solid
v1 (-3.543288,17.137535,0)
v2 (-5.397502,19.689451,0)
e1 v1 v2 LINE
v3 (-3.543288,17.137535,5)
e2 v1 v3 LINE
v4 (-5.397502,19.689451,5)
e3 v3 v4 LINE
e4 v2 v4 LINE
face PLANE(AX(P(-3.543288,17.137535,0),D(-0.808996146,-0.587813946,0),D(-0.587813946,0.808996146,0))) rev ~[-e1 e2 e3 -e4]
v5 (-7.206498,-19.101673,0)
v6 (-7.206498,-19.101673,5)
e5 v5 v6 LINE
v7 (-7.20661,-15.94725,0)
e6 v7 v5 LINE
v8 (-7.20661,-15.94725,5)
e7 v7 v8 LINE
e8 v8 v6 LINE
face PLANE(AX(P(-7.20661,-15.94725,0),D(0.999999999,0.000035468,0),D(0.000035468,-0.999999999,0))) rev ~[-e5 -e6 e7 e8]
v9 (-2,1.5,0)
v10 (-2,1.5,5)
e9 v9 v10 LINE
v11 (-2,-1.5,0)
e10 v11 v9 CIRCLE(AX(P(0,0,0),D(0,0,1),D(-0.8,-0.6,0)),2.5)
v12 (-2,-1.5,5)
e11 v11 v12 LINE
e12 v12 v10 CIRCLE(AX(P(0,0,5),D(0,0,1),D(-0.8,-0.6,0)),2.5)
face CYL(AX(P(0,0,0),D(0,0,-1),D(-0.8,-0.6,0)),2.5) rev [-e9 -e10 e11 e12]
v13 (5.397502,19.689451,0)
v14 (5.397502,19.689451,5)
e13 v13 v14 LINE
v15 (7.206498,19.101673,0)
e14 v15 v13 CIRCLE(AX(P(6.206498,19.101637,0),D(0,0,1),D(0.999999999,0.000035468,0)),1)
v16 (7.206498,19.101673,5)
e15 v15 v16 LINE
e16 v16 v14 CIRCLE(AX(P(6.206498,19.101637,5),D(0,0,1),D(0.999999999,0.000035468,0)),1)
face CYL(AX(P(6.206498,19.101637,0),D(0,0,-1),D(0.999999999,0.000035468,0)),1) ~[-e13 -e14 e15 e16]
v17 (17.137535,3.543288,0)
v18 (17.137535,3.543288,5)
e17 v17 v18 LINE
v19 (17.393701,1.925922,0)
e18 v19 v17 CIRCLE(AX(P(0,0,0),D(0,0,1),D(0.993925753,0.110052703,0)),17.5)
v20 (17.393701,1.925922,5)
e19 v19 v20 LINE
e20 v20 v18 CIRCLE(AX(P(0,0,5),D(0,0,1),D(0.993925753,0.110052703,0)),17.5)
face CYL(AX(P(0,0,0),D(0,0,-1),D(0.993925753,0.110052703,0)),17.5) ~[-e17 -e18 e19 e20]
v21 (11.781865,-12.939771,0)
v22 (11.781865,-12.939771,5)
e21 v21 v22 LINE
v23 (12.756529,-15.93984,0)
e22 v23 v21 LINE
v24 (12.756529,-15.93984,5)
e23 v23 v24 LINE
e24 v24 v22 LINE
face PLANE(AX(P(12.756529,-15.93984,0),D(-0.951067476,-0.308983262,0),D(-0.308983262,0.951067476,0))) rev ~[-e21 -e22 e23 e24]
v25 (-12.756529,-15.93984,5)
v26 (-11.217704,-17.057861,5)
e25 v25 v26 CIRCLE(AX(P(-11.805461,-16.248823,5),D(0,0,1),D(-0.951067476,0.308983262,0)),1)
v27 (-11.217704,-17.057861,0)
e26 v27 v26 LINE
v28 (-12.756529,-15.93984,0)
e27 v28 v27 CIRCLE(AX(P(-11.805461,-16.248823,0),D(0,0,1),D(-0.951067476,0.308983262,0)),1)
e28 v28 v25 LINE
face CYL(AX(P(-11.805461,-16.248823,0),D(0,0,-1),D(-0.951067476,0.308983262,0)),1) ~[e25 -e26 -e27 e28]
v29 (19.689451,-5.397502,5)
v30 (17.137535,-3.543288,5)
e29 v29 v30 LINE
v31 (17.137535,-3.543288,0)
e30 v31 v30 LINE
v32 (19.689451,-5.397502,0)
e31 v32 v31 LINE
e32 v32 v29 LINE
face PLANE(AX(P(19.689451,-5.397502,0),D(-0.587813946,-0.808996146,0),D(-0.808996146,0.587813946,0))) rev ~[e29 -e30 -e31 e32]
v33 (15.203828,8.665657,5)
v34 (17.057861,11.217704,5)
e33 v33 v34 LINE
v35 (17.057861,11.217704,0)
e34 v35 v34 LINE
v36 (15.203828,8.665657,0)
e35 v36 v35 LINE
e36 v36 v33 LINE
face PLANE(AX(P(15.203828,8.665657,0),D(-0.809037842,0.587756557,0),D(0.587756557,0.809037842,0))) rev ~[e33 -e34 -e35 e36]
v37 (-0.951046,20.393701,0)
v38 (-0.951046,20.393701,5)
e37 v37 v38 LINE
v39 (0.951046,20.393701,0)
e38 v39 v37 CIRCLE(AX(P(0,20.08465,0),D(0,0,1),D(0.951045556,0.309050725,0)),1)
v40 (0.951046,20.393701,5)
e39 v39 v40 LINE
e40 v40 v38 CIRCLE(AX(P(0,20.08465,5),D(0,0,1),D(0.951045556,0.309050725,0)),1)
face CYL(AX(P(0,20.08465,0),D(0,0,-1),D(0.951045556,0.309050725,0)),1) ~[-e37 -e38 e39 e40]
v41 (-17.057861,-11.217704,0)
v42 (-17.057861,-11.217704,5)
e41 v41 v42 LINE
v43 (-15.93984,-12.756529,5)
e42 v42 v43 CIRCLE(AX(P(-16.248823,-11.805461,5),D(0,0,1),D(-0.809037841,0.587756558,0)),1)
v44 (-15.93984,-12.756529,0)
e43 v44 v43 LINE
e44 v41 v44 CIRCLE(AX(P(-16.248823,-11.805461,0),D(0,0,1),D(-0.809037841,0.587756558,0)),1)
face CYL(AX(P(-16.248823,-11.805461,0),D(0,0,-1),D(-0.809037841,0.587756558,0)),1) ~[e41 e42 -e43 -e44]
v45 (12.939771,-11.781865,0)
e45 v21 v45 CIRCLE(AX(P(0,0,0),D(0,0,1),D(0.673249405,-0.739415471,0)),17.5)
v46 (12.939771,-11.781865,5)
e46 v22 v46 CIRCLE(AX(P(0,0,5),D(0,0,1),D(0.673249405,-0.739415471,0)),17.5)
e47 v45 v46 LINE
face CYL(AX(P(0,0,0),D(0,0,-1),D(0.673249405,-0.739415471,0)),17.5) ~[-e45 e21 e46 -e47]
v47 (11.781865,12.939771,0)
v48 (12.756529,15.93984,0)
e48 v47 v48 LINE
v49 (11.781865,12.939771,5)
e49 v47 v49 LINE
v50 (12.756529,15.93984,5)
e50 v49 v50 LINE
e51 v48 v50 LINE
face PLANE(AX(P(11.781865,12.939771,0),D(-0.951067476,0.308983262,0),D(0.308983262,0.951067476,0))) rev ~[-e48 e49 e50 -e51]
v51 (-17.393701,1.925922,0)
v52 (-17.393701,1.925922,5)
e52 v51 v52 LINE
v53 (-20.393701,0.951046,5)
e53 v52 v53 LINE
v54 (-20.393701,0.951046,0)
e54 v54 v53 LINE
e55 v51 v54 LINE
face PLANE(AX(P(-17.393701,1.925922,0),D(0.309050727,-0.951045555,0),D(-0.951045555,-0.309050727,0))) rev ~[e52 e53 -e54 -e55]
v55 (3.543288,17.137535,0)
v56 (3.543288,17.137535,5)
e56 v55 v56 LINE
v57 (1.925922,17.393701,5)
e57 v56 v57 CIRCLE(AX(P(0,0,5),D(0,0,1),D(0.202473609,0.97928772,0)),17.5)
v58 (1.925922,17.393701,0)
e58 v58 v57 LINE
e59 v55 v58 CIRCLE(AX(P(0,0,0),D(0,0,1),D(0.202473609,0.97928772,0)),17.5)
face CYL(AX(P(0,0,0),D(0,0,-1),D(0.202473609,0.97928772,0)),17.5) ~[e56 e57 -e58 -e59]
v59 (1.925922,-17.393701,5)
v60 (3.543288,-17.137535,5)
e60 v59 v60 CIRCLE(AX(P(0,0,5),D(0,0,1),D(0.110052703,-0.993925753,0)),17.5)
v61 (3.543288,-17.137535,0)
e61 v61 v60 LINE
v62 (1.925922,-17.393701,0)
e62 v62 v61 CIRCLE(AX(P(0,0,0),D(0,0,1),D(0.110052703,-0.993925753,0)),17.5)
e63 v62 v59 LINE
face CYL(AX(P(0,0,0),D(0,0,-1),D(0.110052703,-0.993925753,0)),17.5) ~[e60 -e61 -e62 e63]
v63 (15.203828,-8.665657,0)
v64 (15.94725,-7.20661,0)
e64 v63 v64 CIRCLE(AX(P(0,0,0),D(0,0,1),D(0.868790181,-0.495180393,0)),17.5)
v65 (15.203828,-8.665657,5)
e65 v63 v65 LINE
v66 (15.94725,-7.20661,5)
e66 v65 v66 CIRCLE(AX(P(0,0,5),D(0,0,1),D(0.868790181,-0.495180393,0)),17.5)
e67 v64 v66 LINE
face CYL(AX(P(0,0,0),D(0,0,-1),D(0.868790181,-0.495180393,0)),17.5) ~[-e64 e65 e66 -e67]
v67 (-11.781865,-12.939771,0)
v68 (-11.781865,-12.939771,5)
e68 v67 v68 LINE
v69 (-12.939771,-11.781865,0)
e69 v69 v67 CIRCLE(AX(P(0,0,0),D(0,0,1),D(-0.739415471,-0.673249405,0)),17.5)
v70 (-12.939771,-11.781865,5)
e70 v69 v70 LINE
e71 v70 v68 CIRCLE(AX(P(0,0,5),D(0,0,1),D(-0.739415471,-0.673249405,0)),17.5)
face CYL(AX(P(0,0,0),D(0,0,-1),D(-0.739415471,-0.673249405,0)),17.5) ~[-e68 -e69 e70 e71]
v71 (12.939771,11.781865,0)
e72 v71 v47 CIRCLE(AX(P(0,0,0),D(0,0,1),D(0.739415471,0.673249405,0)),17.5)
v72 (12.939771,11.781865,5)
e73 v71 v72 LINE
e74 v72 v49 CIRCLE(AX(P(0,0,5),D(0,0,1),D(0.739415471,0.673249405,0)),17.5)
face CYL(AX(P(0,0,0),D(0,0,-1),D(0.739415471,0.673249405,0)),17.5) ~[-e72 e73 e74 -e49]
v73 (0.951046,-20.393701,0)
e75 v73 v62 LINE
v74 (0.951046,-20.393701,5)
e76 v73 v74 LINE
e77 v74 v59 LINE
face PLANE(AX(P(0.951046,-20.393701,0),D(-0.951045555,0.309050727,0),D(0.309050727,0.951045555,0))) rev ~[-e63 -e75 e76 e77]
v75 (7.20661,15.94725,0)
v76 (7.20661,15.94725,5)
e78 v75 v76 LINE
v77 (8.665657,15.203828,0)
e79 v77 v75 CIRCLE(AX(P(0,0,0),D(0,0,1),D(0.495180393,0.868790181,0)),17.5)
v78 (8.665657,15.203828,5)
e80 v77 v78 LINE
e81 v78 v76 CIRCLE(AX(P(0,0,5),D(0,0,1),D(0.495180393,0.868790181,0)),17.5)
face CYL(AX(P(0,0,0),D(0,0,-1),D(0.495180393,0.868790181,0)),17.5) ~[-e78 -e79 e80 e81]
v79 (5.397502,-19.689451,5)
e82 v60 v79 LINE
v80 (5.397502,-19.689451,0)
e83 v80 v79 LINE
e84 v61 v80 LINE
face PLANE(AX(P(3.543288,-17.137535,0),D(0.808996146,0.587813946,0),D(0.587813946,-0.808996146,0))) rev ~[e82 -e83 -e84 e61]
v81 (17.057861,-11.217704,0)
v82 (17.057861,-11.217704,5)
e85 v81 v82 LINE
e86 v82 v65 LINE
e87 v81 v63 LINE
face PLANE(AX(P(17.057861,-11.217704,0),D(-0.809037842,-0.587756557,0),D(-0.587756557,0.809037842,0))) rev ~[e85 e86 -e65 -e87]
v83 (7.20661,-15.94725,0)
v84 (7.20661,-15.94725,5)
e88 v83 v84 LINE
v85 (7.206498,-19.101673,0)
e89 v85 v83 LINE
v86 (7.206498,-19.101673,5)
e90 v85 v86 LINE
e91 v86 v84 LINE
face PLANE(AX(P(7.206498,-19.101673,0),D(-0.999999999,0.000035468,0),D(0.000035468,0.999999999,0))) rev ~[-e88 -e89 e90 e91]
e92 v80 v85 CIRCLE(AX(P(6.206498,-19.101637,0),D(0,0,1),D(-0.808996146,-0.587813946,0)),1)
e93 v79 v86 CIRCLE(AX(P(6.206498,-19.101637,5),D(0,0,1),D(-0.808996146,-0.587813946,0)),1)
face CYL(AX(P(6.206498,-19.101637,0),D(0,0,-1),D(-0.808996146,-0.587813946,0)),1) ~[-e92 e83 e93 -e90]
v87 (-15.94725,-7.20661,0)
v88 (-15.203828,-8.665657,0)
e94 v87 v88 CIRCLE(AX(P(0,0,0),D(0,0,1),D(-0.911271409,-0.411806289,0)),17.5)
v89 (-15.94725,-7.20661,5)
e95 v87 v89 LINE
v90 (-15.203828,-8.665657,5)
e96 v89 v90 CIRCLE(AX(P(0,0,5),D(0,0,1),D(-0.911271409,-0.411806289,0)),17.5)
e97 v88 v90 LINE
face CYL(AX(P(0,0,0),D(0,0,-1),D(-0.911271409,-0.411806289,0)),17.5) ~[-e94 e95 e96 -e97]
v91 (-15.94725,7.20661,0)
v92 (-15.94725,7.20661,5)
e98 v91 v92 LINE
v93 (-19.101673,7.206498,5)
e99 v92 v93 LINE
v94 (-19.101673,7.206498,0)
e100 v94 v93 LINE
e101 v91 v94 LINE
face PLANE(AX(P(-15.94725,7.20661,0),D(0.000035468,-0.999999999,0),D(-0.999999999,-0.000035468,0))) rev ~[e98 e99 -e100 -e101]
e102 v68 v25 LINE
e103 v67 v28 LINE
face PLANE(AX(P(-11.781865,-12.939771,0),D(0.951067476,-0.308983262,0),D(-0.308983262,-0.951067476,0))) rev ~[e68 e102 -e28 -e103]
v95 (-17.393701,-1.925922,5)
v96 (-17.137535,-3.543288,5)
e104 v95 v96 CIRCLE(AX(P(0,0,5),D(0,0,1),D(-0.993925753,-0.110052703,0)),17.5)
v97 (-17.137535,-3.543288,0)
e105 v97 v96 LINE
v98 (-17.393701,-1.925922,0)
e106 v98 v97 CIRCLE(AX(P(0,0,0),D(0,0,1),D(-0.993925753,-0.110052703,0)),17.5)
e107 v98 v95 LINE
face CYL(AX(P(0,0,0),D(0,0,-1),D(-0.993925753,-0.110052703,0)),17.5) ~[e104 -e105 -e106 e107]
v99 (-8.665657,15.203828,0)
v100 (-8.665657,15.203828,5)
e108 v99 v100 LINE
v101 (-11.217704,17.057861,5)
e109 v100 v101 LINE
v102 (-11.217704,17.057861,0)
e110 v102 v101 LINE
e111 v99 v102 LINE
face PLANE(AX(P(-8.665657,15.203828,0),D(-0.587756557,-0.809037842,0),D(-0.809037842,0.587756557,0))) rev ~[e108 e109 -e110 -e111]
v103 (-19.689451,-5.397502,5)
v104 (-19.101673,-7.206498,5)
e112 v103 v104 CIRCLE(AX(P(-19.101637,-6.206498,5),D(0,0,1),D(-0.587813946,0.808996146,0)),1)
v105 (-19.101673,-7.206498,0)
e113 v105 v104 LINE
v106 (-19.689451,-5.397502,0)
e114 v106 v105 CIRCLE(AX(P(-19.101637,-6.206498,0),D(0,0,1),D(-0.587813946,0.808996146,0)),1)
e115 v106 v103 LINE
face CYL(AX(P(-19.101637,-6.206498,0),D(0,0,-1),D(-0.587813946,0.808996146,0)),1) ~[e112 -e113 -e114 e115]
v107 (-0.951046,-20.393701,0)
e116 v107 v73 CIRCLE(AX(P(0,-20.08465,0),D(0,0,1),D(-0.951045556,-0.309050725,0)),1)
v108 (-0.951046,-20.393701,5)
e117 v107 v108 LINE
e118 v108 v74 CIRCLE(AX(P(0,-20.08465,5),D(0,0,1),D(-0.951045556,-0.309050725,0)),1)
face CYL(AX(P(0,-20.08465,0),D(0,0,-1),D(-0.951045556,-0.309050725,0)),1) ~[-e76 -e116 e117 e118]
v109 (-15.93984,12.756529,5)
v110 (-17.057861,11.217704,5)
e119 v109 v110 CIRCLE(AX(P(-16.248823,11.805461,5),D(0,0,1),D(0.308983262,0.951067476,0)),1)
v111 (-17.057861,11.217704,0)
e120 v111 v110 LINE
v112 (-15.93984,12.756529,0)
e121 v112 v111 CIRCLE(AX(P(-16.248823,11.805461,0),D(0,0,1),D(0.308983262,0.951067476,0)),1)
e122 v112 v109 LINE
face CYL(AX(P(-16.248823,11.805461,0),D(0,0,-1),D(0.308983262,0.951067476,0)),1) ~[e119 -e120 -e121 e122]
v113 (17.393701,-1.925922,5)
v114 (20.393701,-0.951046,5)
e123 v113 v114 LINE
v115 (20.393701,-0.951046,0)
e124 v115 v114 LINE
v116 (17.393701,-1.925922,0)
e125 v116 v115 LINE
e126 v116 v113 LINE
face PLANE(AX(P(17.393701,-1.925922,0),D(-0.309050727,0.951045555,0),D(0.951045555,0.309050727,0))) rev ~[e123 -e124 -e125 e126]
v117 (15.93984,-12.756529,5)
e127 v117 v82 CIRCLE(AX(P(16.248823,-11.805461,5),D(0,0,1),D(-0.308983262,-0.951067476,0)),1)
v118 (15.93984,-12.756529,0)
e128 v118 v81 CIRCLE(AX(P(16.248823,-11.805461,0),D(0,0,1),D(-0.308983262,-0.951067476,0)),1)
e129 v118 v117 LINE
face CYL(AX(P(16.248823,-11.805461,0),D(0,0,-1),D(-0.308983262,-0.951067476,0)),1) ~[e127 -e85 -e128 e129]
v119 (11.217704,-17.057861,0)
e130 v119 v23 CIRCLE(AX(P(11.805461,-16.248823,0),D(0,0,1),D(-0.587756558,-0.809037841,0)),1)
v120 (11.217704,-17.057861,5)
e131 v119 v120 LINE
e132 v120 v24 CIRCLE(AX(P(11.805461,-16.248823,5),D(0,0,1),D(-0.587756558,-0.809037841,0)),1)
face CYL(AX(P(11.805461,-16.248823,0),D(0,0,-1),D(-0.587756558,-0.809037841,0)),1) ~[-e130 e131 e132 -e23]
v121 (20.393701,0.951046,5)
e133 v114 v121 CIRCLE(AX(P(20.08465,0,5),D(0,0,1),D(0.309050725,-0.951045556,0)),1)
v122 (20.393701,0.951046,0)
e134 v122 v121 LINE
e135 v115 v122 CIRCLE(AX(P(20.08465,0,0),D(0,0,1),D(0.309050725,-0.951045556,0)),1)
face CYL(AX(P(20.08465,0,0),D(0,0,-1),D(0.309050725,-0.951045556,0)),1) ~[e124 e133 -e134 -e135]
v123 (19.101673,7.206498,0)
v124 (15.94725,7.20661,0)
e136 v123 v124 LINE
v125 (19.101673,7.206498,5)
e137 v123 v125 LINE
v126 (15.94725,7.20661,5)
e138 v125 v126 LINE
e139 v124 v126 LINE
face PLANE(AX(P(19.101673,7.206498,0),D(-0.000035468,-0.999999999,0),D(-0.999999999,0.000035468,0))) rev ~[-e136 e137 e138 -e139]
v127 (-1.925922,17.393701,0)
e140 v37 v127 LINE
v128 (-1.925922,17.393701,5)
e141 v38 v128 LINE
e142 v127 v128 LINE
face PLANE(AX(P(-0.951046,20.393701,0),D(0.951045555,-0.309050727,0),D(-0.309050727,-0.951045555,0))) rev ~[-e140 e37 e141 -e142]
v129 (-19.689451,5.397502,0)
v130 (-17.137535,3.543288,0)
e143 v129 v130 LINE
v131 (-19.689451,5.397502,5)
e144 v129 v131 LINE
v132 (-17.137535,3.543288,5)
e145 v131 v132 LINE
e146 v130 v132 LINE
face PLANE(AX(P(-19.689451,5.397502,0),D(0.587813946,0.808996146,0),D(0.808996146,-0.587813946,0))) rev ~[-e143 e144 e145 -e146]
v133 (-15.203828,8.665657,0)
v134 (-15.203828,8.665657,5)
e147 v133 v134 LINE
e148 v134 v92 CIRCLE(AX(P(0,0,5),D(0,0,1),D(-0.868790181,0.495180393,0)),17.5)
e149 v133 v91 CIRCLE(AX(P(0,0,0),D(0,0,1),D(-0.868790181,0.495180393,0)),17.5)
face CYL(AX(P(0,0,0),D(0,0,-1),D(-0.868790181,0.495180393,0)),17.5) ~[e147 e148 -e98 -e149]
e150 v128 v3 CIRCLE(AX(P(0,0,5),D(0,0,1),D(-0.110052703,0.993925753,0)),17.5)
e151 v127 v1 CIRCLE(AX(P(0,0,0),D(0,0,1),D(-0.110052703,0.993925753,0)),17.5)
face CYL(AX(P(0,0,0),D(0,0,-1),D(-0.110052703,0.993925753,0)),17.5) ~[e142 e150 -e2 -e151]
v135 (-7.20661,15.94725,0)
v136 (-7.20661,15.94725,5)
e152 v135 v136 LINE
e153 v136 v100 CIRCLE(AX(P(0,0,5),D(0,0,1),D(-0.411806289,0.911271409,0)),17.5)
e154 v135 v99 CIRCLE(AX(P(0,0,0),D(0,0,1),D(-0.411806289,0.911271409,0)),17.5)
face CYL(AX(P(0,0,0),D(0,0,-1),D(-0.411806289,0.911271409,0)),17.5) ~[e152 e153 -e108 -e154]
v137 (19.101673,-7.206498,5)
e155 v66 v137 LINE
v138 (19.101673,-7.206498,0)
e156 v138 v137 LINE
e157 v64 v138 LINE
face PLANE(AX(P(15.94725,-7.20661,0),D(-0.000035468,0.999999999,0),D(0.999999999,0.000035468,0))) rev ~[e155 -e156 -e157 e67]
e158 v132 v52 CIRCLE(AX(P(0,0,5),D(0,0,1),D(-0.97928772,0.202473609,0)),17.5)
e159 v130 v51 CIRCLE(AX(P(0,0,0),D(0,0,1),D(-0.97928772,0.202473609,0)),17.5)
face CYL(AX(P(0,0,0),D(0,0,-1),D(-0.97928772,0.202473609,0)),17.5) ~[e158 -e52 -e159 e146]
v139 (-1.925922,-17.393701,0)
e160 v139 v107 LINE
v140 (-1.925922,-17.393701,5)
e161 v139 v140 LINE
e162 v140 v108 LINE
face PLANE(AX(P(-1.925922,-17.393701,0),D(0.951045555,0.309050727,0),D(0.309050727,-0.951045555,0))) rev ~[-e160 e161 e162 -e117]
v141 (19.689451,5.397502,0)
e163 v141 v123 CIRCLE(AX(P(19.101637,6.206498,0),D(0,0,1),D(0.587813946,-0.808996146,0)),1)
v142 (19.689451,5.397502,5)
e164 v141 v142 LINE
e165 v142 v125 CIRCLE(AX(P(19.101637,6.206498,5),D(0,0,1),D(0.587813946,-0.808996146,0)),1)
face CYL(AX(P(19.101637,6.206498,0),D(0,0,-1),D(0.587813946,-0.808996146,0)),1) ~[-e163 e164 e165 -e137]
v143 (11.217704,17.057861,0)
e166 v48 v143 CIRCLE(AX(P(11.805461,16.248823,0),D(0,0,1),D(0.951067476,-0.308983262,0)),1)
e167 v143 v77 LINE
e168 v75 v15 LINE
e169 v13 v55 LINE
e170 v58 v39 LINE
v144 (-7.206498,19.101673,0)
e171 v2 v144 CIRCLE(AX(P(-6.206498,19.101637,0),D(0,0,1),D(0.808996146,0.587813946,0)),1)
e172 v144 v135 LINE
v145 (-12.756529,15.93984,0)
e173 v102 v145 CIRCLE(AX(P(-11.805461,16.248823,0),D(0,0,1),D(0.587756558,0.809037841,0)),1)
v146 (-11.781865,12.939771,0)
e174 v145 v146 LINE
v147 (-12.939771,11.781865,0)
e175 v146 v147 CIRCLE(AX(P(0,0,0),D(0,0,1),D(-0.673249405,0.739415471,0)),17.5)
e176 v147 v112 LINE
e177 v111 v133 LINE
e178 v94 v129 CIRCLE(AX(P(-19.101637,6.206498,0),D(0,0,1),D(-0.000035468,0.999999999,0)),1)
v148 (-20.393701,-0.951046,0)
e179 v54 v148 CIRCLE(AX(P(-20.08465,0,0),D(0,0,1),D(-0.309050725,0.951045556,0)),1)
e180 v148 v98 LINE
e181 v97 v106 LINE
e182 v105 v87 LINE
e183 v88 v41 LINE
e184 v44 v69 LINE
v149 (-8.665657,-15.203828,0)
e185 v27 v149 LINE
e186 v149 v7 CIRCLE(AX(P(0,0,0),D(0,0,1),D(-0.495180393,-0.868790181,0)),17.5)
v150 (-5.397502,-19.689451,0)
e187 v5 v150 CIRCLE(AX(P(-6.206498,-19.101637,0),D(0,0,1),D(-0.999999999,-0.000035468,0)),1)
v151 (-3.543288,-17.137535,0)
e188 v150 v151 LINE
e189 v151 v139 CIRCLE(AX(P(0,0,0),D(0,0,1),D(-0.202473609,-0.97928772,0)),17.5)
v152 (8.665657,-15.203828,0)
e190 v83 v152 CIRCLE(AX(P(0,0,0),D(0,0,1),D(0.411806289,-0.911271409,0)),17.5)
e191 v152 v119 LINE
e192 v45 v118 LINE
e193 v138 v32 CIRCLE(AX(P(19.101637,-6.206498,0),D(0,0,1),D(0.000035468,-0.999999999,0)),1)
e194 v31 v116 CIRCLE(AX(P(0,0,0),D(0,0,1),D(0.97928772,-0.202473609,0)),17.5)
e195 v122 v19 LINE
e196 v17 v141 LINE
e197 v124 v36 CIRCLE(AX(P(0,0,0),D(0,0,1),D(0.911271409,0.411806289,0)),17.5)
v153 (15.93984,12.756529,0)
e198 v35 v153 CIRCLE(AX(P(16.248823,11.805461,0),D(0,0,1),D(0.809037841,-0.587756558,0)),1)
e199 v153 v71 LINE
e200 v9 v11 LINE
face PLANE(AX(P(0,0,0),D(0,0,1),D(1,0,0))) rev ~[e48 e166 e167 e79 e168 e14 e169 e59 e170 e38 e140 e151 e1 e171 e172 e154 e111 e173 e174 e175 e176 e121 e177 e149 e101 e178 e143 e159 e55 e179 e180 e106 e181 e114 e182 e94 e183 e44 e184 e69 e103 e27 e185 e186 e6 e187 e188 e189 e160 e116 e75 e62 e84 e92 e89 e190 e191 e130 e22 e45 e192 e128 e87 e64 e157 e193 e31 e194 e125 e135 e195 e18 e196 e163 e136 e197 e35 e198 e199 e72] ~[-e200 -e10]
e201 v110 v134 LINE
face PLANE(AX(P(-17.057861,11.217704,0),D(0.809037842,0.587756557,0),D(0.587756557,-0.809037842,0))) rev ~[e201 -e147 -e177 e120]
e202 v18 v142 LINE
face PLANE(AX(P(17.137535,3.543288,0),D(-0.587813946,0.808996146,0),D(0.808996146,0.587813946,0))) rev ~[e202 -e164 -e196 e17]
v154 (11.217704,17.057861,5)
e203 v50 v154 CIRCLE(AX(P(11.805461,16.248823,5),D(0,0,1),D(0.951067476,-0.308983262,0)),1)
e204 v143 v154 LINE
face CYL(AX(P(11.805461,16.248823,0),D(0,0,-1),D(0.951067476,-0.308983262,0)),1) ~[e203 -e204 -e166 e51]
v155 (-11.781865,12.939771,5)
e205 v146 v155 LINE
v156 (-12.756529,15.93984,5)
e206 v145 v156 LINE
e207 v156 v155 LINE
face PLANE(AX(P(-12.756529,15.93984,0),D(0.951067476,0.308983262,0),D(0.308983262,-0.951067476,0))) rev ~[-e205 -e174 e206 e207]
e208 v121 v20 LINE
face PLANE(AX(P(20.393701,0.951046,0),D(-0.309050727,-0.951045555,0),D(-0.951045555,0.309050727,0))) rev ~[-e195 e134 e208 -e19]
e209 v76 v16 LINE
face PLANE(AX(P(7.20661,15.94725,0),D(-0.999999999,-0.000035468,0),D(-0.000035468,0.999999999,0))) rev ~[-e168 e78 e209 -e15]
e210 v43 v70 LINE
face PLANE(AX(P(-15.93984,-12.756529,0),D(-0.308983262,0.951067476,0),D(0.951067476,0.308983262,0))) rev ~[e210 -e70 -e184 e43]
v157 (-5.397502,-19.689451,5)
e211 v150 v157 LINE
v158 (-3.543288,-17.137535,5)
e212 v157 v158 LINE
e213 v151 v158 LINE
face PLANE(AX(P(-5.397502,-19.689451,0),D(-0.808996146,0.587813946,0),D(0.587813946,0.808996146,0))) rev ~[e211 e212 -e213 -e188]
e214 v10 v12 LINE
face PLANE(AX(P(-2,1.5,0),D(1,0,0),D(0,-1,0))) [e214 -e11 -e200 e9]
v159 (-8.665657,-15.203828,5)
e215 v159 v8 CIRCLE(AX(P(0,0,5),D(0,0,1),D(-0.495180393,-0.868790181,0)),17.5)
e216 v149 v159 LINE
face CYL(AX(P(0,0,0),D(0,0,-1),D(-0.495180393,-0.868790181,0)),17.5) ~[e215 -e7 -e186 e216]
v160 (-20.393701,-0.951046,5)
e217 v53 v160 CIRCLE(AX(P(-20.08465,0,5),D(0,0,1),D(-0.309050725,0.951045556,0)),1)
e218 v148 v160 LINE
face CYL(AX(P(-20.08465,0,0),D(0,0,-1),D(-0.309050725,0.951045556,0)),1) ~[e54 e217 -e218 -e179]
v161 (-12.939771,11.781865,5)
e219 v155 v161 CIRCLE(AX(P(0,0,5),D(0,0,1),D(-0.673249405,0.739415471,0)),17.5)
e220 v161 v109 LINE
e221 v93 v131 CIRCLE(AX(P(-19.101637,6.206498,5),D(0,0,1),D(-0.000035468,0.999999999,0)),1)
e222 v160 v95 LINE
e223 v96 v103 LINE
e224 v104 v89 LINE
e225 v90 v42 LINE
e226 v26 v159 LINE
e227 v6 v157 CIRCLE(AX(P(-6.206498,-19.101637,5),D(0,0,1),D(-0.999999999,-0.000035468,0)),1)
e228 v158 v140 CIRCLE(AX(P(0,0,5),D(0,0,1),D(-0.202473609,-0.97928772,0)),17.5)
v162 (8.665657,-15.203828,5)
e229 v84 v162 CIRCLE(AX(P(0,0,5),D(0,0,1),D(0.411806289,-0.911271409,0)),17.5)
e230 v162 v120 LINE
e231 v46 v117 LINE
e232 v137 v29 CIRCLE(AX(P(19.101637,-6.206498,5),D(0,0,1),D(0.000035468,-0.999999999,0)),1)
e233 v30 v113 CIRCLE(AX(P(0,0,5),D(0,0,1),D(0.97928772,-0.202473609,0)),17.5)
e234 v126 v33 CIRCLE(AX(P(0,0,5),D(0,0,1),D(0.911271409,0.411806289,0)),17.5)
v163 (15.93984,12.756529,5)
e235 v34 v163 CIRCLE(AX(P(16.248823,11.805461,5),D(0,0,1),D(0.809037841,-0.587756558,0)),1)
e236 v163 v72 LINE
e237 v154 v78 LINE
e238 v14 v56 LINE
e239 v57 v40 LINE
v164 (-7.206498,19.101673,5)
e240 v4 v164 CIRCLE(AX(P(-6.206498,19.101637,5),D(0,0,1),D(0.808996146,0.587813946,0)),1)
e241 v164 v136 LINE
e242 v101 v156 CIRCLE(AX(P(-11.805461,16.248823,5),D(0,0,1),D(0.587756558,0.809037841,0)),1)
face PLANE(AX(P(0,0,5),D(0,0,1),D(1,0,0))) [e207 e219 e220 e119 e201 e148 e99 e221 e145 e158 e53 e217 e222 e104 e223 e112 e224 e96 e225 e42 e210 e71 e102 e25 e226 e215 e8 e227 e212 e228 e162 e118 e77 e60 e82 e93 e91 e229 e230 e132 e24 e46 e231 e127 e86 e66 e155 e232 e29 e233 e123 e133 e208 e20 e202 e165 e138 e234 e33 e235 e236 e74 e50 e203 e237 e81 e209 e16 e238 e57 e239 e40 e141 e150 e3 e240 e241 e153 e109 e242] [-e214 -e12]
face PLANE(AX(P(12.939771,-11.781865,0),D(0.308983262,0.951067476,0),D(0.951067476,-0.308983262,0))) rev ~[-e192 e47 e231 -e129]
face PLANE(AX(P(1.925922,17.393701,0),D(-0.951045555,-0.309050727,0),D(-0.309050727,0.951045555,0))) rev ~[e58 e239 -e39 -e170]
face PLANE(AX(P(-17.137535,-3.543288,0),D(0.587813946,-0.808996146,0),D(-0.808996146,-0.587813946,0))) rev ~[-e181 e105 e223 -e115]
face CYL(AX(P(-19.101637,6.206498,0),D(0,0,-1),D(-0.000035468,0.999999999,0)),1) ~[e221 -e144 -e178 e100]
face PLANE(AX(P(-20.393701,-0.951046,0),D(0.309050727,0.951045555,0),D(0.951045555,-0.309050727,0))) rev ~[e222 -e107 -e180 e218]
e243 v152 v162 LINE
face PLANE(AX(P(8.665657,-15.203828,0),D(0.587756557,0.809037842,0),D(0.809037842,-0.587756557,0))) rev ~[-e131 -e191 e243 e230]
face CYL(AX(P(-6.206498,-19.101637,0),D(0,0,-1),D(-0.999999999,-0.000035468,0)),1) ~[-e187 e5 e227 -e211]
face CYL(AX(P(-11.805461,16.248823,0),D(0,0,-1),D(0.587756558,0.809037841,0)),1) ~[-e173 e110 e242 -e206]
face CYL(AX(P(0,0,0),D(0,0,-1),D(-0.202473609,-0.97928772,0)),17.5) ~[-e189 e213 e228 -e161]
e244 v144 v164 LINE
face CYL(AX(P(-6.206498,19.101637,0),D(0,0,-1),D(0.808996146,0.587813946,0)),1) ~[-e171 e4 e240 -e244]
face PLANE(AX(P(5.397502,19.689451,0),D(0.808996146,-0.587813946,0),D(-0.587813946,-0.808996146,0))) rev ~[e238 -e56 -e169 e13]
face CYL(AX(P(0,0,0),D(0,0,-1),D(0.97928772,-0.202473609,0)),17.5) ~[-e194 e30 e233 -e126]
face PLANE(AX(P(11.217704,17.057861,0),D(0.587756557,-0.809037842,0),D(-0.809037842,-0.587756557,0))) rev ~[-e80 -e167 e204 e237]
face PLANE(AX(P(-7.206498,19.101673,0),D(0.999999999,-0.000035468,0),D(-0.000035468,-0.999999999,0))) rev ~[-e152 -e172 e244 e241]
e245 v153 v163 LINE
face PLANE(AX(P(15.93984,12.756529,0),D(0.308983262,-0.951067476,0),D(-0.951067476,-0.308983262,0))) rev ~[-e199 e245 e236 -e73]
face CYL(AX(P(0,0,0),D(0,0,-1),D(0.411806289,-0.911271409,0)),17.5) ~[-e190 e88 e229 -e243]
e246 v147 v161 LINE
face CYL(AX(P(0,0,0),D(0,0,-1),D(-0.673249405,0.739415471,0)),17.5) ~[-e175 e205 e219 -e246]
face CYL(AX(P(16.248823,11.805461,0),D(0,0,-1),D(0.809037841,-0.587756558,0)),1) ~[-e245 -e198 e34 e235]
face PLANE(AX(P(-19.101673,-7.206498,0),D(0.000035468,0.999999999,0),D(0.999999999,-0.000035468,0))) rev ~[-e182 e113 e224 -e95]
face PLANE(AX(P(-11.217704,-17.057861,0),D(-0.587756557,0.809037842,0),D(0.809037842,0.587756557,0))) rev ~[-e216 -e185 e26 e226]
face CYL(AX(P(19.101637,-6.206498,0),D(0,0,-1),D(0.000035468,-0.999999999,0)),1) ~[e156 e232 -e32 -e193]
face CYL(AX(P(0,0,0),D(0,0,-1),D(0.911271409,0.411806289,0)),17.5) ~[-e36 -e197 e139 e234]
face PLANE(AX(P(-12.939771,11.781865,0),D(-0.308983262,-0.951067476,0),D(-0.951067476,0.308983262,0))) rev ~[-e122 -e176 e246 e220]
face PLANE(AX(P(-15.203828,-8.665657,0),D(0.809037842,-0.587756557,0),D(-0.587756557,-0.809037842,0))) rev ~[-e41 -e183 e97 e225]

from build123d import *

# Parameters (mm, degrees)
DODANIE_WYCI_GNI_CIE1_DEPTH = 5


with BuildPart() as part:
    # Szkic1 → Dodanie-wyciągnięcie1 (new body)
    with BuildSketch(Plane.XY):
        with BuildLine():
            Line((-0.951045555, 20.39370068), (-1.925922284, 17.39370068))
            ThreePointArc((-1.925922284, 17.39370068), (-2.737603138, 17.28454596), (-3.543288168, 17.13753509))
            Line((-3.543288168, 17.13753509), (-5.397502016, 19.689451162))
            ThreePointArc((-5.397502016, 19.689451162), (-6.515515156, 20.052693732), (-7.206498161, 19.101672684))
            Line((-7.206498161, 19.101672684), (-7.206610043, 15.947249659))
            ThreePointArc((-7.206610043, 15.947249659), (-7.944833745, 15.592614173), (-8.665656885, 15.203828161))
            Line((-8.665656885, 15.203828161), (-11.217704483, 17.05786098))
            ThreePointArc((-11.217704483, 17.05786098), (-12.393246293, 17.057840133), (-12.756528516, 15.939839877))
            Line((-12.756528516, 15.939839877), (-11.7818646, 12.93977073))
            ThreePointArc((-11.7818646, 12.93977073), (-12.374368671, 12.374368671), (-12.93977073, 11.7818646))
            Line((-12.93977073, 11.7818646), (-15.939839877, 12.756528516))
            ThreePointArc((-15.939839877, 12.756528516), (-17.057840133, 12.393246293), (-17.05786098, 11.217704483))
            Line((-17.05786098, 11.217704483), (-15.203828161, 8.665656885))
            ThreePointArc((-15.203828161, 8.665656885), (-15.592614173, 7.944833745), (-15.947249659, 7.206610043))
            Line((-15.947249659, 7.206610043), (-19.101672684, 7.206498161))
            ThreePointArc((-19.101672684, 7.206498161), (-20.052693732, 6.515515156), (-19.689451162, 5.397502016))
            Line((-19.689451162, 5.397502016), (-17.13753509, 3.543288168))
            ThreePointArc((-17.13753509, 3.543288168), (-17.28454596, 2.737603138), (-17.39370068, 1.925922284))
            Line((-17.39370068, 1.925922284), (-20.39370068, 0.951045555))
            ThreePointArc((-20.39370068, 0.951045555), (-21.084649954, 0), (-20.39370068, -0.951045555))
            Line((-20.39370068, -0.951045555), (-17.39370068, -1.925922284))
            ThreePointArc((-17.39370068, -1.925922284), (-17.28454596, -2.737603138), (-17.13753509, -3.543288168))
            Line((-17.13753509, -3.543288168), (-19.689451162, -5.397502016))
            ThreePointArc((-19.689451162, -5.397502016), (-20.052693732, -6.515515156), (-19.101672684, -7.206498161))
            Line((-19.101672684, -7.206498161), (-15.947249659, -7.206610043))
            ThreePointArc((-15.947249659, -7.206610043), (-15.592614173, -7.944833745), (-15.203828161, -8.665656885))
            Line((-15.203828161, -8.665656885), (-17.05786098, -11.217704483))
            ThreePointArc((-17.05786098, -11.217704483), (-17.057840133, -12.393246293), (-15.939839877, -12.756528516))
            Line((-15.939839877, -12.756528516), (-12.93977073, -11.7818646))
            ThreePointArc((-12.93977073, -11.7818646), (-12.374368671, -12.374368671), (-11.7818646, -12.93977073))
            Line((-11.7818646, -12.93977073), (-12.756528516, -15.939839877))
            ThreePointArc((-12.756528516, -15.939839877), (-12.393246293, -17.057840133), (-11.217704483, -17.05786098))
            Line((-11.217704483, -17.05786098), (-8.665656885, -15.203828161))
            ThreePointArc((-8.665656885, -15.203828161), (-7.944833745, -15.592614173), (-7.206610043, -15.947249659))
            Line((-7.206610043, -15.947249659), (-7.206498161, -19.101672684))
            ThreePointArc((-7.206498161, -19.101672684), (-6.515515156, -20.052693732), (-5.397502016, -19.689451162))
            Line((-5.397502016, -19.689451162), (-3.543288168, -17.13753509))
            ThreePointArc((-3.543288168, -17.13753509), (-2.737603138, -17.28454596), (-1.925922284, -17.39370068))
            Line((-1.925922284, -17.39370068), (-0.951045555, -20.39370068))
            ThreePointArc((-0.951045555, -20.39370068), (0, -21.084649954), (0.951045555, -20.39370068))
            Line((0.951045555, -20.39370068), (1.925922284, -17.39370068))
            ThreePointArc((1.925922284, -17.39370068), (2.737603138, -17.28454596), (3.543288168, -17.13753509))
            Line((3.543288168, -17.13753509), (5.397502016, -19.689451162))
            ThreePointArc((5.397502016, -19.689451162), (6.515515156, -20.052693732), (7.206498161, -19.101672684))
            Line((7.206498161, -19.101672684), (7.206610043, -15.947249659))
            ThreePointArc((7.206610043, -15.947249659), (7.944833745, -15.592614173), (8.665656885, -15.203828161))
            Line((8.665656885, -15.203828161), (11.217704483, -17.05786098))
            ThreePointArc((11.217704483, -17.05786098), (12.393246293, -17.057840133), (12.756528516, -15.939839877))
            Line((12.756528516, -15.939839877), (11.7818646, -12.93977073))
            ThreePointArc((11.7818646, -12.93977073), (12.374368671, -12.374368671), (12.93977073, -11.7818646))
            Line((12.93977073, -11.7818646), (15.939839877, -12.756528516))
            ThreePointArc((15.939839877, -12.756528516), (17.057840133, -12.393246293), (17.05786098, -11.217704483))
            Line((17.05786098, -11.217704483), (15.203828161, -8.665656885))
            ThreePointArc((15.203828161, -8.665656885), (15.592614173, -7.944833745), (15.947249659, -7.206610043))
            Line((15.947249659, -7.206610043), (19.101672684, -7.206498161))
            ThreePointArc((19.101672684, -7.206498161), (20.052693732, -6.515515156), (19.689451162, -5.397502016))
            Line((19.689451162, -5.397502016), (17.13753509, -3.543288168))
            ThreePointArc((17.13753509, -3.543288168), (17.28454596, -2.737603138), (17.39370068, -1.925922284))
            Line((17.39370068, -1.925922284), (20.39370068, -0.951045555))
            ThreePointArc((20.39370068, -0.951045555), (21.084649954, 0), (20.39370068, 0.951045555))
            Line((20.39370068, 0.951045555), (17.39370068, 1.925922284))
            ThreePointArc((17.39370068, 1.925922284), (17.28454596, 2.737603138), (17.13753509, 3.543288168))
            Line((17.13753509, 3.543288168), (19.689451162, 5.397502016))
            ThreePointArc((19.689451162, 5.397502016), (20.052693732, 6.515515156), (19.101672684, 7.206498161))
            Line((19.101672684, 7.206498161), (15.947249659, 7.206610043))
            ThreePointArc((15.947249659, 7.206610043), (15.592614173, 7.944833745), (15.203828161, 8.665656885))
            Line((15.203828161, 8.665656885), (17.05786098, 11.217704483))
            ThreePointArc((17.05786098, 11.217704483), (17.057840133, 12.393246293), (15.939839877, 12.756528516))
            Line((15.939839877, 12.756528516), (12.93977073, 11.7818646))
            ThreePointArc((12.93977073, 11.7818646), (12.374368671, 12.374368671), (11.7818646, 12.93977073))
            Line((11.7818646, 12.93977073), (12.756528516, 15.939839877))
            ThreePointArc((12.756528516, 15.939839877), (12.393246293, 17.057840133), (11.217704483, 17.05786098))
            Line((11.217704483, 17.05786098), (8.665656885, 15.203828161))
            ThreePointArc((8.665656885, 15.203828161), (7.944833745, 15.592614173), (7.206610043, 15.947249659))
            Line((7.206610043, 15.947249659), (7.206498161, 19.101672684))
            ThreePointArc((7.206498161, 19.101672684), (6.515515156, 20.052693732), (5.397502016, 19.689451162))
            Line((5.397502016, 19.689451162), (3.543288168, 17.13753509))
            ThreePointArc((3.543288168, 17.13753509), (2.737603138, 17.28454596), (1.925922284, 17.39370068))
            Line((1.925922284, 17.39370068), (0.951045555, 20.39370068))
            ThreePointArc((0.951045555, 20.39370068), (0, 21.084649954), (-0.951045555, 20.39370068))
        make_face()
        with BuildLine():
            Line((-2, 1.5), (-2, -1.5))
            ThreePointArc((-2, -1.5), (2.5, 0), (-2, 1.5))
        make_face(mode=Mode.SUBTRACT)
    extrude(amount=DODANIE_WYCI_GNI_CIE1_DEPTH)


solid = part.part
